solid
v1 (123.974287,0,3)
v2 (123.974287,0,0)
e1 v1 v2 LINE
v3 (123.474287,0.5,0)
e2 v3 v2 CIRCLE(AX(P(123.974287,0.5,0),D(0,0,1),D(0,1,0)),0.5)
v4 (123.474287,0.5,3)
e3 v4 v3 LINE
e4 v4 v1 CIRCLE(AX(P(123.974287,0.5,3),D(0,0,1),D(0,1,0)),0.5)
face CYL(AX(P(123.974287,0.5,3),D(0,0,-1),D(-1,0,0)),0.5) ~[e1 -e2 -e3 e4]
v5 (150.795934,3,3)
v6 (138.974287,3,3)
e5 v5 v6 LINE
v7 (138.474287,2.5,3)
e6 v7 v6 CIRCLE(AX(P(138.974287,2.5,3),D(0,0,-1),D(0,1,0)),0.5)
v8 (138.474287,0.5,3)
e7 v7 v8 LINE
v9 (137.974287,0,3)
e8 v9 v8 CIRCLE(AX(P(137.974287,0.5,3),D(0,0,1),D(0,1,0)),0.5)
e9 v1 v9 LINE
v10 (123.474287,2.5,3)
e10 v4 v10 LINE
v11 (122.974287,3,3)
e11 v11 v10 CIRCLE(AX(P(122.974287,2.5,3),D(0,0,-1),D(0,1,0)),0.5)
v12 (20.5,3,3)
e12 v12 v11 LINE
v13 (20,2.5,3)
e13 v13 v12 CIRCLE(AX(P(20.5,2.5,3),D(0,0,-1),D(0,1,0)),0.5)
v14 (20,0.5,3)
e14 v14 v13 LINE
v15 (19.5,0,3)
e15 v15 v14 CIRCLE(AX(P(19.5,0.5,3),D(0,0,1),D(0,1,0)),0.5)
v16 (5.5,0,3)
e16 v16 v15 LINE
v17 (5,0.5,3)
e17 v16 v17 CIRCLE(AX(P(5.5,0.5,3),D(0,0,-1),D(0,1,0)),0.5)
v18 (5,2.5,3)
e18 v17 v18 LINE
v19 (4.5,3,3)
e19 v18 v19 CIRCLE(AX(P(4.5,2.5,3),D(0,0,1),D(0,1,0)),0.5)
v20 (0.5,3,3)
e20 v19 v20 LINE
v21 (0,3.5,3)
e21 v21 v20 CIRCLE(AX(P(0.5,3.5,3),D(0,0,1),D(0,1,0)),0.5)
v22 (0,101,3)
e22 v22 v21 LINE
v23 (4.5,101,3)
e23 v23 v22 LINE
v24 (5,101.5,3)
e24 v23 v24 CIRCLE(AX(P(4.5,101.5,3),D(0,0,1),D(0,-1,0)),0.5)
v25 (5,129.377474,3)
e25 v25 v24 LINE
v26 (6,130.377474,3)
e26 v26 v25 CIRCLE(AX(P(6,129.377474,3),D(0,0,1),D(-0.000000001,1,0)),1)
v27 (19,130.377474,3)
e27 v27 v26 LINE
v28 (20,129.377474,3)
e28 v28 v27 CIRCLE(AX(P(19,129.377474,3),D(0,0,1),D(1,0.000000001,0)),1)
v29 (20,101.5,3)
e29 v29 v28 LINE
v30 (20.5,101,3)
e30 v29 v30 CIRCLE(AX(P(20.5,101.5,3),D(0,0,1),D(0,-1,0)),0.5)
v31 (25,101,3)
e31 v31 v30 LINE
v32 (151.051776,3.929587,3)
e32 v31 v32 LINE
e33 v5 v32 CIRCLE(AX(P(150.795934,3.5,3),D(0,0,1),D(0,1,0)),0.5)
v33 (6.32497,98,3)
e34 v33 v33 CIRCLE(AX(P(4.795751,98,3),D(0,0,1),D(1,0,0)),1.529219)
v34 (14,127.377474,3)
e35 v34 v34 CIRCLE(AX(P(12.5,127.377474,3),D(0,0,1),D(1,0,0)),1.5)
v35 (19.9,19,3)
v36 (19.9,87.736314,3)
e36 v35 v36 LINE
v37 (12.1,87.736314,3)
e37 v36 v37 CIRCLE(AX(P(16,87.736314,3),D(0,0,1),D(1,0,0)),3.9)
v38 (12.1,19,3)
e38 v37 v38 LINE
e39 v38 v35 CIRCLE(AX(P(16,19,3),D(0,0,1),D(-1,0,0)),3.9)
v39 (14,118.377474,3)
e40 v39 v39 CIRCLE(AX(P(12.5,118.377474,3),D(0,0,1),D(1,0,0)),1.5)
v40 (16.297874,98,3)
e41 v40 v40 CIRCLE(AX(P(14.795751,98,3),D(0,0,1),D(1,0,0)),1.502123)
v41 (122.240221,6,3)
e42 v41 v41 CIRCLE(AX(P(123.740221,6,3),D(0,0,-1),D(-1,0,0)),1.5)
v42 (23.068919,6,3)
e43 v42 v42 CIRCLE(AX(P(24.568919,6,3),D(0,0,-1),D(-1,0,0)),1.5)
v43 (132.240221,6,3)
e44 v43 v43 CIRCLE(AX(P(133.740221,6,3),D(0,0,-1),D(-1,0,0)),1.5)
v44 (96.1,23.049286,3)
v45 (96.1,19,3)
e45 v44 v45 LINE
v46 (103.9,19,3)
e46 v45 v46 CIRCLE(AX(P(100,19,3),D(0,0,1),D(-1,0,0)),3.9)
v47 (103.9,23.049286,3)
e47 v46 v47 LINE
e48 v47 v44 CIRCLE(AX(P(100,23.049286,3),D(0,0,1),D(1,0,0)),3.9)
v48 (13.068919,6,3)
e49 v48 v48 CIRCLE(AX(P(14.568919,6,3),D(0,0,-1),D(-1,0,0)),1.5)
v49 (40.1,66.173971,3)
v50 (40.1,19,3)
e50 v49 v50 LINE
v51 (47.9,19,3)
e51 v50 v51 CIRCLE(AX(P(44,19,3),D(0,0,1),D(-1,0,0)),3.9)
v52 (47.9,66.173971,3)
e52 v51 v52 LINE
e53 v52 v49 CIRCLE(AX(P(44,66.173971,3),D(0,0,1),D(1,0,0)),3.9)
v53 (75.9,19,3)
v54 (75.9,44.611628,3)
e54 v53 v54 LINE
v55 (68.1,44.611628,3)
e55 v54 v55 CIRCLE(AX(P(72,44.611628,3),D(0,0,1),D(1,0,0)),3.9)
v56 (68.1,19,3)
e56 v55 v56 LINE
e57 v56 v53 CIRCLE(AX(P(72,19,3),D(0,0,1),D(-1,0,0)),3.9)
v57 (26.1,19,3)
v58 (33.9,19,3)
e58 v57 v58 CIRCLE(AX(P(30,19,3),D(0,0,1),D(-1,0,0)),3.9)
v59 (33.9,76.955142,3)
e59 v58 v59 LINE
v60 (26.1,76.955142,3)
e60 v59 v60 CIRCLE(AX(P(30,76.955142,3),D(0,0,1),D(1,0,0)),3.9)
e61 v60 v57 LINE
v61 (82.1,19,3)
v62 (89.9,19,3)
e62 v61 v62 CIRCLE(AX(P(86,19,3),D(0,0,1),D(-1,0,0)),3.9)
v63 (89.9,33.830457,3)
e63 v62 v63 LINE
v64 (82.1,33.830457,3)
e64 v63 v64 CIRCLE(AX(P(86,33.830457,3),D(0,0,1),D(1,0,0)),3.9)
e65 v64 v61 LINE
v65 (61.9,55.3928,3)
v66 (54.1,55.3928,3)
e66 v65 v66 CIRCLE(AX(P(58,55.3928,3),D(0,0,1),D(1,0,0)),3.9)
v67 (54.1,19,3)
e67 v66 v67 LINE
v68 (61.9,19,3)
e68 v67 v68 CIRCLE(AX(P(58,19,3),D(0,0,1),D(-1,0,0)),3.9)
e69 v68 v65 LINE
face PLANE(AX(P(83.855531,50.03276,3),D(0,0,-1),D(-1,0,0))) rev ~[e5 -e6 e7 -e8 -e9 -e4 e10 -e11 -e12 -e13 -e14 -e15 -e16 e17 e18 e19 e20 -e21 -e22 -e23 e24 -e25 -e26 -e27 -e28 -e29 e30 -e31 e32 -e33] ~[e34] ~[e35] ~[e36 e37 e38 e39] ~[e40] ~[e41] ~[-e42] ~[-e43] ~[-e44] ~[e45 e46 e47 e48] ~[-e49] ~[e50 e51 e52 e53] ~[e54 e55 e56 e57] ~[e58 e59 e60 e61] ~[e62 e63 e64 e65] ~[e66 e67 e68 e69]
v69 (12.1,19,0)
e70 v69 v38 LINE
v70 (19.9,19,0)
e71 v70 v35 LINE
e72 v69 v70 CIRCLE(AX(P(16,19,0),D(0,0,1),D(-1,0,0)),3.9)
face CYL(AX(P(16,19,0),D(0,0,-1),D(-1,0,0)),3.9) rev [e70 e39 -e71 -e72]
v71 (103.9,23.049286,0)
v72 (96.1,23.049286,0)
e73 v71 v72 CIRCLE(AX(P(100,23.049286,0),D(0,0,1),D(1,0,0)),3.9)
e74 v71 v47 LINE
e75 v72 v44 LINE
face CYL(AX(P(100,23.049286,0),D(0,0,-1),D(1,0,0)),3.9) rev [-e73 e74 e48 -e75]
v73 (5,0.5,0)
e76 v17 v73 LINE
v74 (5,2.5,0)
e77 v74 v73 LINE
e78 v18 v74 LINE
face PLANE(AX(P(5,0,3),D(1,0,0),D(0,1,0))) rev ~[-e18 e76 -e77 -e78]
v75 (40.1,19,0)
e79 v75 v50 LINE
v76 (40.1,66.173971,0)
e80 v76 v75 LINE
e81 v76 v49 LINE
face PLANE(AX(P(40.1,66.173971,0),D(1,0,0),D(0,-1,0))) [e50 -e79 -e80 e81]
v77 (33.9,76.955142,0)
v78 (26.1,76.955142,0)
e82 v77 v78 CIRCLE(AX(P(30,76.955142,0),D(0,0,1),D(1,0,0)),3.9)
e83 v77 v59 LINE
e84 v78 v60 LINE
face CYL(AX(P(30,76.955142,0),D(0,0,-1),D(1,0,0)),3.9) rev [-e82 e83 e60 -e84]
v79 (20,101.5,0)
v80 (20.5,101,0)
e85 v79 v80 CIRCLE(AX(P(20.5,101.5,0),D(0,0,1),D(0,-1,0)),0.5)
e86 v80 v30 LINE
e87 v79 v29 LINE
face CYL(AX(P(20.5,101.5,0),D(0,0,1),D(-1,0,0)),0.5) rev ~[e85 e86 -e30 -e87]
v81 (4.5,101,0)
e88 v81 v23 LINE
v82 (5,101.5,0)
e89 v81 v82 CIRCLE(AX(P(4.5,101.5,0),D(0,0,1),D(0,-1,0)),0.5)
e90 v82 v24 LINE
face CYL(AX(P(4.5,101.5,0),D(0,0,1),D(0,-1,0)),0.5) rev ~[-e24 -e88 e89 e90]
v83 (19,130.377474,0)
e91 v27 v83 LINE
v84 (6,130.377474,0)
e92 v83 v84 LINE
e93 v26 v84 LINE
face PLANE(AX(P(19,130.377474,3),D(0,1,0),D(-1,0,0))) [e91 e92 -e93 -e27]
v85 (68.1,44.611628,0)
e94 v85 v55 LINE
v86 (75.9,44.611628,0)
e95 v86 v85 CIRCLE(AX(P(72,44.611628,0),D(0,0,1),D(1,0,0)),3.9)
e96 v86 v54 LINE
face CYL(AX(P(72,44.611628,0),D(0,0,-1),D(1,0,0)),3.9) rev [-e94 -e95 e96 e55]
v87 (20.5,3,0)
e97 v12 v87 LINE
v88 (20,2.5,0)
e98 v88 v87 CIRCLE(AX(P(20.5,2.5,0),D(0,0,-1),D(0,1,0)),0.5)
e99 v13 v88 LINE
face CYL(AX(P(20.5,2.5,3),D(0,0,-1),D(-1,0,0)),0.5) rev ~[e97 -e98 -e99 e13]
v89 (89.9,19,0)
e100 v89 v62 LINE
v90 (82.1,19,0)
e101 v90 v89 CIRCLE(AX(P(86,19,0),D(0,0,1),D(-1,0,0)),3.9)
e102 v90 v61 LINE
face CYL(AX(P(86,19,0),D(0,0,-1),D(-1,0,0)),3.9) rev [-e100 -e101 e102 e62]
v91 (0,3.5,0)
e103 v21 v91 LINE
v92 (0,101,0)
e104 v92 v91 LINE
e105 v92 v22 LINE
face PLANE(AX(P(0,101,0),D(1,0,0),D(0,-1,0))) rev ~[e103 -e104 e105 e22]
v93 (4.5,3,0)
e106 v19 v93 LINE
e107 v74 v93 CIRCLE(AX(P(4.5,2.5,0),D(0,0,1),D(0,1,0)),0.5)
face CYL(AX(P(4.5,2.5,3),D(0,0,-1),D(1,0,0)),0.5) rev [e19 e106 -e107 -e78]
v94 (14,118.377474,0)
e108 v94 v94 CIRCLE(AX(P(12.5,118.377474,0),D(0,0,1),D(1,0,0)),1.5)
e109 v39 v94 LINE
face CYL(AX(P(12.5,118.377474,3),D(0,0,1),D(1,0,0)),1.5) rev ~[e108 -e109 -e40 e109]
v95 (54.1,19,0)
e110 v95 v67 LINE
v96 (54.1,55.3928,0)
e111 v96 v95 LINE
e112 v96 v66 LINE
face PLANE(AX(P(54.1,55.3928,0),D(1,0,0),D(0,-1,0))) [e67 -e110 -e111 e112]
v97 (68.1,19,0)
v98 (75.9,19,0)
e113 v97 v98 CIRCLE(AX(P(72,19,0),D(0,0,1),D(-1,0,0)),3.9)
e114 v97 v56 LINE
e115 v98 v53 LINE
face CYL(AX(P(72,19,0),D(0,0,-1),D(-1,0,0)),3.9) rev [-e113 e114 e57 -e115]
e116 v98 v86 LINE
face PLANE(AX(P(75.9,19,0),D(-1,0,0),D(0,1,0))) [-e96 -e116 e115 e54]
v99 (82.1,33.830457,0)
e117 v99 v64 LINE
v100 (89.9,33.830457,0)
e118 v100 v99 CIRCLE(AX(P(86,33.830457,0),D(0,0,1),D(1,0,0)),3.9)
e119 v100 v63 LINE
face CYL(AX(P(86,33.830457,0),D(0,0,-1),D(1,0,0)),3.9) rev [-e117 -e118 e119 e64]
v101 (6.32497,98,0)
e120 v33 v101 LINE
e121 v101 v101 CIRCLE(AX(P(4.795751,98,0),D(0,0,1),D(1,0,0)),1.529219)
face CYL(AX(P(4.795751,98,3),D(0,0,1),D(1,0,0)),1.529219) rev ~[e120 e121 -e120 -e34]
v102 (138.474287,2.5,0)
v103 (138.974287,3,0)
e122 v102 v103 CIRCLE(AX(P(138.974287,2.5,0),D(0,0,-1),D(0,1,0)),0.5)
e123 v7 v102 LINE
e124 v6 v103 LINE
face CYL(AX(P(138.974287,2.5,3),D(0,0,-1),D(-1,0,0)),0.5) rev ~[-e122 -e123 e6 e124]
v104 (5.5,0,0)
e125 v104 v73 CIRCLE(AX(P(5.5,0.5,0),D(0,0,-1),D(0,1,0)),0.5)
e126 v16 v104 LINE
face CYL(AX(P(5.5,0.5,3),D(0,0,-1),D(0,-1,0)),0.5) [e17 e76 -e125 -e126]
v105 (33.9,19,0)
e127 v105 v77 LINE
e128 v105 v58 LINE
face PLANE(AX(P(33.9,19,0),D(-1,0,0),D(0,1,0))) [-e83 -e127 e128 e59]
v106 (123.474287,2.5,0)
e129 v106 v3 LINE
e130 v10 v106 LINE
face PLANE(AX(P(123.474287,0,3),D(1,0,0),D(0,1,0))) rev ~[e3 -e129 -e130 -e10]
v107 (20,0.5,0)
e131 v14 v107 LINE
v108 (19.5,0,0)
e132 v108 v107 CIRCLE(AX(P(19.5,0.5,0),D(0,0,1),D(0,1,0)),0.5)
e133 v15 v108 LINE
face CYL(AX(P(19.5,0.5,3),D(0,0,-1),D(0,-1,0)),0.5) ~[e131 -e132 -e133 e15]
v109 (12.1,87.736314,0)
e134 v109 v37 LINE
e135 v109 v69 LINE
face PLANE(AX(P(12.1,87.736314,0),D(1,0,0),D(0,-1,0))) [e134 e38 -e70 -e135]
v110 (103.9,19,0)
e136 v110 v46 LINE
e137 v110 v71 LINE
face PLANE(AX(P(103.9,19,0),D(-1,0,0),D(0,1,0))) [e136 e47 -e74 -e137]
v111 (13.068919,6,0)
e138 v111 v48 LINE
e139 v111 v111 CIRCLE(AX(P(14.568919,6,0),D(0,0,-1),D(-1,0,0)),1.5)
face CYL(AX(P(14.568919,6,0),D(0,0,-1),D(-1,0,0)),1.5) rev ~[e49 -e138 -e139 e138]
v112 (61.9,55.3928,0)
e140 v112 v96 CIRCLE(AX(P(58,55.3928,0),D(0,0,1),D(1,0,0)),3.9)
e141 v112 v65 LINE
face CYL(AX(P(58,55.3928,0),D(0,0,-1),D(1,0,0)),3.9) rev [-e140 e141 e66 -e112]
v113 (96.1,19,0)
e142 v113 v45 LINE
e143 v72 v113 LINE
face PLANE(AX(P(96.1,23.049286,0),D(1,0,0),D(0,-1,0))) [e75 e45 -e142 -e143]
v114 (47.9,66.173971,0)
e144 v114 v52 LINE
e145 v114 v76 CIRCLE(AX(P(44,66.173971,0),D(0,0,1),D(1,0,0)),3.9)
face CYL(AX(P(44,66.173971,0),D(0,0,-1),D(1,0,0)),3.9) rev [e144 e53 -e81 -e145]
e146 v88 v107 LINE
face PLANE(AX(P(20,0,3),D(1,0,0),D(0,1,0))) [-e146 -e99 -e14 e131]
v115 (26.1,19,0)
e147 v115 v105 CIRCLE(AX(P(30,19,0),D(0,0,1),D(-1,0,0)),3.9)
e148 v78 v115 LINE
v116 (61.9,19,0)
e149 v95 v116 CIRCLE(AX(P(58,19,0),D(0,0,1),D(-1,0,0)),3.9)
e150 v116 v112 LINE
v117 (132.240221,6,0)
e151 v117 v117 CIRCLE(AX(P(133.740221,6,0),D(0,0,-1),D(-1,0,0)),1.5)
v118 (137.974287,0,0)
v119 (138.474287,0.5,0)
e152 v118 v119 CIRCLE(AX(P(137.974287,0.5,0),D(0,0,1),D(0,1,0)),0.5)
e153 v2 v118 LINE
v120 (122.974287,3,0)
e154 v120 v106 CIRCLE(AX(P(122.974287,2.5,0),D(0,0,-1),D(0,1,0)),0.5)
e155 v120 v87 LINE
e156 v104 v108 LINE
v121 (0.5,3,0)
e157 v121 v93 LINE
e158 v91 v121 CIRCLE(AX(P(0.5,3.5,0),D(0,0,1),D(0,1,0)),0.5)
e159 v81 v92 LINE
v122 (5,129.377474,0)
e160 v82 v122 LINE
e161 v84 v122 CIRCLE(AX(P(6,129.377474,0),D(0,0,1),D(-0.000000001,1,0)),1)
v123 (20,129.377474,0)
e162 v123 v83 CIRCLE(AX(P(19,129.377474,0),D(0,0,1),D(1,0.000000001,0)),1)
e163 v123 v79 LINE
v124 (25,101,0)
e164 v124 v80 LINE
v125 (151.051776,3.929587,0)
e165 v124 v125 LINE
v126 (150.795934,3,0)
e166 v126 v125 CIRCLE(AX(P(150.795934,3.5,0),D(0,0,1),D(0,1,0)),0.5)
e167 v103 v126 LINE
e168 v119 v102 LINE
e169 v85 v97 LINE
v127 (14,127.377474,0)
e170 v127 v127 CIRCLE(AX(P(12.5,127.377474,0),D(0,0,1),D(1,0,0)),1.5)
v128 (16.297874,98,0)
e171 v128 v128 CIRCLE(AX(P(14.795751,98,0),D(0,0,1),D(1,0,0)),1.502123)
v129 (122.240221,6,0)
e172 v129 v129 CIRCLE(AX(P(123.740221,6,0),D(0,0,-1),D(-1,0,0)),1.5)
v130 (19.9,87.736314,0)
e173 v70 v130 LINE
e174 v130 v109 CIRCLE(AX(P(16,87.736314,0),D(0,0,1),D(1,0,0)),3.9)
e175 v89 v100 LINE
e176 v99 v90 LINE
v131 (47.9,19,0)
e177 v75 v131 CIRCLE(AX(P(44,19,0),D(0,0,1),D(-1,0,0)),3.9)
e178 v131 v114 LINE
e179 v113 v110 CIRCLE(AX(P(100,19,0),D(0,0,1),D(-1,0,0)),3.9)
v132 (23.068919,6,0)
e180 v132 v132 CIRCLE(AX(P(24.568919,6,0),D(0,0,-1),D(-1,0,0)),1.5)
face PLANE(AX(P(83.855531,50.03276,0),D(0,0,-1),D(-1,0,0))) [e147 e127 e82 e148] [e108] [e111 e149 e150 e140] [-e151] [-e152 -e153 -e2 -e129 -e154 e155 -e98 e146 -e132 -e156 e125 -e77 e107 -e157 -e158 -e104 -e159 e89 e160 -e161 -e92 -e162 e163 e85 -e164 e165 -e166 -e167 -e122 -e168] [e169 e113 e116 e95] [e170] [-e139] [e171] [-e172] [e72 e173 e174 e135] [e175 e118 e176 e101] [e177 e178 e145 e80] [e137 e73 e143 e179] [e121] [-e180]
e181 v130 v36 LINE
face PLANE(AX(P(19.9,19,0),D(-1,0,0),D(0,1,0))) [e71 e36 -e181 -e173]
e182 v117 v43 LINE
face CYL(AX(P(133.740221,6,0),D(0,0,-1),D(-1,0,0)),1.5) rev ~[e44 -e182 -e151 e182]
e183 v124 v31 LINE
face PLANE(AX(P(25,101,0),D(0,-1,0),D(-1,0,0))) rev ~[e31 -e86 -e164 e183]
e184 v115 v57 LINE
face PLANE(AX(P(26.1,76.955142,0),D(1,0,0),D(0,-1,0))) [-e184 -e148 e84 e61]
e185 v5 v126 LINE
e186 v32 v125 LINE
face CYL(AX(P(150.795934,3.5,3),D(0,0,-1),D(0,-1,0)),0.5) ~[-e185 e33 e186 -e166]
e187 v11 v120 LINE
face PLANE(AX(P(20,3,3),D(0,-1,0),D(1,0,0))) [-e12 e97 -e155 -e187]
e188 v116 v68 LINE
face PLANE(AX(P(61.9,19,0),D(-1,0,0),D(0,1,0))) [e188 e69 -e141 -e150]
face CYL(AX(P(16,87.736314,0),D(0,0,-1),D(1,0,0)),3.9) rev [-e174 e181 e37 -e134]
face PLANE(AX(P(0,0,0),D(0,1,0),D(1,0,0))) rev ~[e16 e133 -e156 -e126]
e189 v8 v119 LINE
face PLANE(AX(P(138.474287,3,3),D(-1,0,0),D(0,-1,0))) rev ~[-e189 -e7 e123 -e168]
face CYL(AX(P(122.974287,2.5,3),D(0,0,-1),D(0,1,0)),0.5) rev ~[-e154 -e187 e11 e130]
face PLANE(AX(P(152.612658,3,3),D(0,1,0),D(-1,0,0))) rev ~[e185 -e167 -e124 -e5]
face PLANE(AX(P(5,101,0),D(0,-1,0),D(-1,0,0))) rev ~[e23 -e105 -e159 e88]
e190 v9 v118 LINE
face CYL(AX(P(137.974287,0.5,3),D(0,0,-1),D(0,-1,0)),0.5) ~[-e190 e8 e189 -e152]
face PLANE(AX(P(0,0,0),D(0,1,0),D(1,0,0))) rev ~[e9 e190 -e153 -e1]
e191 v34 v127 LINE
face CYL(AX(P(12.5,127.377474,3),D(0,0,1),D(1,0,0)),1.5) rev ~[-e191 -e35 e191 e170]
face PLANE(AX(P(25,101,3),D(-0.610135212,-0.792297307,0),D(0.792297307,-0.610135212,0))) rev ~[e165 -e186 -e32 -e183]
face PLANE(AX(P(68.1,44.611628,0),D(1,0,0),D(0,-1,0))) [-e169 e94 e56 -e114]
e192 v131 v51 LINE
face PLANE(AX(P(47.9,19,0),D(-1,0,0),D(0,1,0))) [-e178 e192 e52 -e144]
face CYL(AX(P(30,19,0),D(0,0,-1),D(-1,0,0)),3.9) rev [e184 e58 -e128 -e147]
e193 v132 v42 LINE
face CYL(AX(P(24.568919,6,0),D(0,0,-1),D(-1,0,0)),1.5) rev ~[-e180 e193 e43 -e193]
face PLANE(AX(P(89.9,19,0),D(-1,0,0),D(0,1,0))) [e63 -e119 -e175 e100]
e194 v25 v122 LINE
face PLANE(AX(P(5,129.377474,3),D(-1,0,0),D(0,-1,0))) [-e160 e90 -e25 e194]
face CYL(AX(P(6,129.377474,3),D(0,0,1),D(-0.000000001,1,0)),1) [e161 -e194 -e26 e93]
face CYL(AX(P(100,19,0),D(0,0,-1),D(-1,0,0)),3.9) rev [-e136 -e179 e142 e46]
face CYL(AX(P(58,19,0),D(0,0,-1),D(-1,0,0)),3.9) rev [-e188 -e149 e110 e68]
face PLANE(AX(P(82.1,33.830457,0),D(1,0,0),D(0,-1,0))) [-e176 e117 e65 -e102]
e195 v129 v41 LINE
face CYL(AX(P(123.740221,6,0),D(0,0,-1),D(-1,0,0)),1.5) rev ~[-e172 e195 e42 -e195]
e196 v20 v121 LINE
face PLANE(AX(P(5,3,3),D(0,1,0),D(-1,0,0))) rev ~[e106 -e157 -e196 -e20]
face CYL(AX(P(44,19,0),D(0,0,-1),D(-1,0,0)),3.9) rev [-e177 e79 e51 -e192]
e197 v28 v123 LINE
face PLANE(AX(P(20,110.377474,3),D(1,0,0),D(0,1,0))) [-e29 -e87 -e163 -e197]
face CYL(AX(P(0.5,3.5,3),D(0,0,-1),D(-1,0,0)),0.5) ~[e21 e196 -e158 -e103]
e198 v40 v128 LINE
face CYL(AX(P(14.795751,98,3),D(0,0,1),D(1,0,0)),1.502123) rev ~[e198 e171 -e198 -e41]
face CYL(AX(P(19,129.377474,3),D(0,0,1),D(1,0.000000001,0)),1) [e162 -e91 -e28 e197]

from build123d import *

# Parameters (mm, degrees)
EXTRUDE_1_DEPTH      = 3
SKETCH_2_W           = 15
SKETCH_2_H           = 3
EXTRUDE_2_DEPTH      = 0.5
FILLET_2_R           = 3
FILLET_3_R           = 0.5
FILLET_4_R           = 0.5
SKETCH_6_W           = 103.474287265
SKETCH_6_H           = 3
CUT_EXTRUDE_3_DEPTH  = 10
FILLET_5_R           = 0.5
FILLET_6_R           = 0.5
SKETCH_15_W          = 15
SKETCH_15_H          = 9
EXTRUDE_4_DEPTH      = 3
FILLET_7_R           = 1
SKETCH_16_R          = 1.5
CUT_EXTRUDE_7_DEPTH  = 188.894654659
SKETCH_17_R          = 1.52921897
SKETCH_17_R_2        = 1.502123086
CUT_EXTRUDE_8_DEPTH  = 188.894654659
EXTRUDE_5_DEPTH      = 3
SKETCH_19_R          = 1.5
CUT_EXTRUDE_9_DEPTH  = 10
EXTRUDE_6_DEPTH      = 3
CUT_EXTRUDE_10_DEPTH = 3


with BuildPart() as part:
    # 草图1 → 凸台-拉伸1 (new body)
    with BuildSketch(Plane.XY):
        Polygon((0, 101), (0, 0), (157.65, 0), (25, 79), (25, 101), (20, 101), (20, 104), (5, 104), (5, 101), align=None)
    extrude(amount=EXTRUDE_1_DEPTH)

    # 草图2 → 凸台-拉伸2 (add)
    with BuildSketch(Plane(origin=(0, 104, 0), x_dir=(1, 0, 0), z_dir=(0, 1, 0))):
        with Locations((12.5, -1.5)):
            Rectangle(SKETCH_2_W, SKETCH_2_H)
    extrude(amount=EXTRUDE_2_DEPTH)

    # 圆角2
    fillet_2_edges = [part.edges().sort_by_distance(p)[0] for p in [
        (25, 79, 1.5),
    ]]
    fillet(fillet_2_edges, radius=FILLET_2_R)

    # 圆角3
    fillet_3_edges = [part.edges().sort_by_distance(p)[0] for p in [
        (157.65, 0, 1.5),
    ]]
    fillet(fillet_3_edges, radius=FILLET_3_R)

    # 圆角4
    fillet_4_edges = [part.edges().sort_by_distance(p)[0] for p in [
        (0, 0, 1.5),
    ]]
    fillet(fillet_4_edges, radius=FILLET_4_R)

    # 草图6 → 切除-拉伸3 (cut)
    with BuildSketch(Plane.XY.offset(3)):
        with BuildLine():
            Line((5, 3), (0, 3))
            Line((0, 3), (0, 0.5))
            ThreePointArc((0, 0.5), (0.146446609, 0.146446609), (0.5, 0))
            Line((0.5, 0), (5, 0))
            Line((5, 0), (5, 3))
        make_face()
        with Locations((71.737143632, 1.5)):
            Rectangle(SKETCH_6_W, SKETCH_6_H)
        with BuildLine():
            Line((152.612658228, 3), (138.474287265, 3))
            Line((138.474287265, 3), (138.474287265, 0))
            Line((138.474287265, 0), (155.833275758, 0))
            ThreePointArc((155.833275758, 0), (156.315351251, 0.367322877), (156.089117317, 0.929587124))
            Line((156.089117317, 0.929587124), (152.612658228, 3))
        make_face()
    extrude(amount=-CUT_EXTRUDE_3_DEPTH, mode=Mode.SUBTRACT)

    # 圆角5
    fillet_5_edges = [part.edges().sort_by_distance(p)[0] for p in [
        (20, 0, 1.5),
        (5, 0, 1.5),
        (0, 3, 1.5),
        (123.474287265, 0, 1.5),
        (138.474287265, 0, 1.5),
        (152.612658228, 3, 1.5),
    ]]
    fillet(fillet_5_edges, radius=FILLET_5_R)

    # 圆角6
    fillet_6_edges = [part.edges().sort_by_distance(p)[0] for p in [
        (20, 101, 1.5),
        (5, 101, 1.5),
        (123.474287265, 3, 1.5),
        (138.474287265, 3, 1.5),
        (20, 3, 1.5),
        (5, 3, 1.5),
    ]]
    fillet(fillet_6_edges, radius=FILLET_6_R)

    # 草图15 → 凸台-拉伸4 (add)
    with BuildSketch(Plane(origin=(0, 0, 0), x_dir=(-1, 0, 0), z_dir=(0, 0, -1))):
        with Locations((-12.5, 106.877473525)):
            Rectangle(SKETCH_15_W, SKETCH_15_H)
    extrude(amount=-EXTRUDE_4_DEPTH)

    # 圆角7
    fillet_7_edges = [part.edges().sort_by_distance(p)[0] for p in [
        (5, 111.377473525, 1.5),
        (20, 111.377473525, 1.5),
    ]]
    fillet(fillet_7_edges, radius=FILLET_7_R)

    # 草图16 → 切除-拉伸7 (cut, through all)
    with BuildSketch(Plane(origin=(0, 0, 0), x_dir=(-1, 0, 0), z_dir=(0, 0, -1))):
        with Locations((-14.568919479, 6)):
            Circle(SKETCH_16_R)
        with Locations((-24.568919479, 6)):
            Circle(SKETCH_16_R)
        with Locations((-123.740220593, 6)):
            Circle(SKETCH_16_R)
        with Locations((-133.740220593, 6)):
            Circle(SKETCH_16_R)
    extrude(amount=-CUT_EXTRUDE_7_DEPTH, mode=Mode.SUBTRACT)

    # 草图17 → 切除-拉伸8 (cut, through all)
    with BuildSketch(Plane.XY.offset(3)):
        with Locations((4.795751321, 98)):
            Circle(SKETCH_17_R)
        with Locations((14.795751321, 98)):
            Circle(SKETCH_17_R_2)
    extrude(amount=-CUT_EXTRUDE_8_DEPTH, mode=Mode.SUBTRACT)

    # 草图18 → 凸台-拉伸5 (add)
    with BuildSketch(Plane.XY.offset(3)):
        with BuildLine():
            Line((19, 130.377473525), (6, 130.377473525))
            ThreePointArc((6, 130.377473525), (5.292893219, 130.084580306), (5, 129.377473525))
            Line((5, 129.377473525), (5, 110.377473525))
            Line((5, 110.377473525), (20, 110.377473525))
            Line((20, 110.377473525), (20, 129.377473525))
            ThreePointArc((20, 129.377473525), (19.707106781, 130.084580306), (19, 130.377473525))
        make_face()
    extrude(amount=-EXTRUDE_5_DEPTH)

    # 草图19 → 切除-拉伸9 (cut)
    with BuildSketch(Plane.XY.offset(3)):
        with Locations((12.5, 127.377473525)):
            Circle(SKETCH_19_R)
        with Locations((12.5, 118.377473525)):
            Circle(SKETCH_19_R)
    extrude(amount=-CUT_EXTRUDE_9_DEPTH, mode=Mode.SUBTRACT)

    # 草图21 → 凸台-拉伸6 (add)
    with BuildSketch(Plane.XY.offset(3)):
        with BuildLine():
            Line((25, 101), (151.051775545, 3.929587124))
            Line((151.051775545, 3.929587124), (26.464950647, 78.127545412))
            ThreePointArc((26.464950647, 78.127545412), (25.391825537, 79.222696415), (25, 80.705068154))
            Line((25, 80.705068154), (25, 101))
        make_face()
    extrude(amount=-EXTRUDE_6_DEPTH)

    # 草图22 → 切除-拉伸10 (cut)
    with BuildSketch(Plane(origin=(0, 0, 0), x_dir=(-1, 0, 0), z_dir=(0, 0, -1))):
        with BuildLine():
            Line((-19.9, 19), (-19.9, 87.736313508))
            ThreePointArc((-19.9, 87.736313508), (-16, 91.636313508), (-12.1, 87.736313508))
            Line((-12.1, 87.736313508), (-12.1, 19))
            ThreePointArc((-12.1, 19), (-16, 15.1), (-19.9, 19))
        make_face()
        with BuildLine():
            Line((-26.1, 76.955142244), (-26.1, 19))
            ThreePointArc((-26.1, 19), (-30, 15.1), (-33.9, 19))
            Line((-33.9, 19), (-33.9, 76.955142244))
            ThreePointArc((-33.9, 76.955142244), (-30, 80.855142244), (-26.1, 76.955142244))
        make_face()
        with BuildLine():
            Line((-40.1, 66.17397098), (-40.1, 19))
            ThreePointArc((-40.1, 19), (-44, 15.1), (-47.9, 19))
            Line((-47.9, 19), (-47.9, 66.17397098))
            ThreePointArc((-47.9, 66.17397098), (-44, 70.07397098), (-40.1, 66.17397098))
        make_face()
        with BuildLine():
            Line((-54.1, 55.392799717), (-54.1, 19))
            ThreePointArc((-54.1, 19), (-58, 15.1), (-61.9, 19))
            Line((-61.9, 19), (-61.9, 55.392799717))
            ThreePointArc((-61.9, 55.392799717), (-58, 59.292799717), (-54.1, 55.392799717))
        make_face()
        with BuildLine():
            Line((-68.1, 44.611628453), (-68.1, 19))
            ThreePointArc((-68.1, 19), (-72, 15.1), (-75.9, 19))
            Line((-75.9, 19), (-75.9, 44.611628453))
            ThreePointArc((-75.9, 44.611628453), (-72, 48.511628453), (-68.1, 44.611628453))
        make_face()
        with BuildLine():
            Line((-82.1, 33.830457189), (-82.1, 19))
            ThreePointArc((-82.1, 19), (-86, 15.1), (-89.9, 19))
            Line((-89.9, 19), (-89.9, 33.830457189))
            ThreePointArc((-89.9, 33.830457189), (-86, 37.730457189), (-82.1, 33.830457189))
        make_face()
        with BuildLine():
            Line((-96.1, 23.049285925), (-96.1, 19))
            ThreePointArc((-96.1, 19), (-100, 15.1), (-103.9, 19))
            Line((-103.9, 19), (-103.9, 23.049285925))
            ThreePointArc((-103.9, 23.049285925), (-100, 26.949285925), (-96.1, 23.049285925))
        make_face()
    extrude(amount=-CUT_EXTRUDE_10_DEPTH, mode=Mode.SUBTRACT)


solid = part.part
